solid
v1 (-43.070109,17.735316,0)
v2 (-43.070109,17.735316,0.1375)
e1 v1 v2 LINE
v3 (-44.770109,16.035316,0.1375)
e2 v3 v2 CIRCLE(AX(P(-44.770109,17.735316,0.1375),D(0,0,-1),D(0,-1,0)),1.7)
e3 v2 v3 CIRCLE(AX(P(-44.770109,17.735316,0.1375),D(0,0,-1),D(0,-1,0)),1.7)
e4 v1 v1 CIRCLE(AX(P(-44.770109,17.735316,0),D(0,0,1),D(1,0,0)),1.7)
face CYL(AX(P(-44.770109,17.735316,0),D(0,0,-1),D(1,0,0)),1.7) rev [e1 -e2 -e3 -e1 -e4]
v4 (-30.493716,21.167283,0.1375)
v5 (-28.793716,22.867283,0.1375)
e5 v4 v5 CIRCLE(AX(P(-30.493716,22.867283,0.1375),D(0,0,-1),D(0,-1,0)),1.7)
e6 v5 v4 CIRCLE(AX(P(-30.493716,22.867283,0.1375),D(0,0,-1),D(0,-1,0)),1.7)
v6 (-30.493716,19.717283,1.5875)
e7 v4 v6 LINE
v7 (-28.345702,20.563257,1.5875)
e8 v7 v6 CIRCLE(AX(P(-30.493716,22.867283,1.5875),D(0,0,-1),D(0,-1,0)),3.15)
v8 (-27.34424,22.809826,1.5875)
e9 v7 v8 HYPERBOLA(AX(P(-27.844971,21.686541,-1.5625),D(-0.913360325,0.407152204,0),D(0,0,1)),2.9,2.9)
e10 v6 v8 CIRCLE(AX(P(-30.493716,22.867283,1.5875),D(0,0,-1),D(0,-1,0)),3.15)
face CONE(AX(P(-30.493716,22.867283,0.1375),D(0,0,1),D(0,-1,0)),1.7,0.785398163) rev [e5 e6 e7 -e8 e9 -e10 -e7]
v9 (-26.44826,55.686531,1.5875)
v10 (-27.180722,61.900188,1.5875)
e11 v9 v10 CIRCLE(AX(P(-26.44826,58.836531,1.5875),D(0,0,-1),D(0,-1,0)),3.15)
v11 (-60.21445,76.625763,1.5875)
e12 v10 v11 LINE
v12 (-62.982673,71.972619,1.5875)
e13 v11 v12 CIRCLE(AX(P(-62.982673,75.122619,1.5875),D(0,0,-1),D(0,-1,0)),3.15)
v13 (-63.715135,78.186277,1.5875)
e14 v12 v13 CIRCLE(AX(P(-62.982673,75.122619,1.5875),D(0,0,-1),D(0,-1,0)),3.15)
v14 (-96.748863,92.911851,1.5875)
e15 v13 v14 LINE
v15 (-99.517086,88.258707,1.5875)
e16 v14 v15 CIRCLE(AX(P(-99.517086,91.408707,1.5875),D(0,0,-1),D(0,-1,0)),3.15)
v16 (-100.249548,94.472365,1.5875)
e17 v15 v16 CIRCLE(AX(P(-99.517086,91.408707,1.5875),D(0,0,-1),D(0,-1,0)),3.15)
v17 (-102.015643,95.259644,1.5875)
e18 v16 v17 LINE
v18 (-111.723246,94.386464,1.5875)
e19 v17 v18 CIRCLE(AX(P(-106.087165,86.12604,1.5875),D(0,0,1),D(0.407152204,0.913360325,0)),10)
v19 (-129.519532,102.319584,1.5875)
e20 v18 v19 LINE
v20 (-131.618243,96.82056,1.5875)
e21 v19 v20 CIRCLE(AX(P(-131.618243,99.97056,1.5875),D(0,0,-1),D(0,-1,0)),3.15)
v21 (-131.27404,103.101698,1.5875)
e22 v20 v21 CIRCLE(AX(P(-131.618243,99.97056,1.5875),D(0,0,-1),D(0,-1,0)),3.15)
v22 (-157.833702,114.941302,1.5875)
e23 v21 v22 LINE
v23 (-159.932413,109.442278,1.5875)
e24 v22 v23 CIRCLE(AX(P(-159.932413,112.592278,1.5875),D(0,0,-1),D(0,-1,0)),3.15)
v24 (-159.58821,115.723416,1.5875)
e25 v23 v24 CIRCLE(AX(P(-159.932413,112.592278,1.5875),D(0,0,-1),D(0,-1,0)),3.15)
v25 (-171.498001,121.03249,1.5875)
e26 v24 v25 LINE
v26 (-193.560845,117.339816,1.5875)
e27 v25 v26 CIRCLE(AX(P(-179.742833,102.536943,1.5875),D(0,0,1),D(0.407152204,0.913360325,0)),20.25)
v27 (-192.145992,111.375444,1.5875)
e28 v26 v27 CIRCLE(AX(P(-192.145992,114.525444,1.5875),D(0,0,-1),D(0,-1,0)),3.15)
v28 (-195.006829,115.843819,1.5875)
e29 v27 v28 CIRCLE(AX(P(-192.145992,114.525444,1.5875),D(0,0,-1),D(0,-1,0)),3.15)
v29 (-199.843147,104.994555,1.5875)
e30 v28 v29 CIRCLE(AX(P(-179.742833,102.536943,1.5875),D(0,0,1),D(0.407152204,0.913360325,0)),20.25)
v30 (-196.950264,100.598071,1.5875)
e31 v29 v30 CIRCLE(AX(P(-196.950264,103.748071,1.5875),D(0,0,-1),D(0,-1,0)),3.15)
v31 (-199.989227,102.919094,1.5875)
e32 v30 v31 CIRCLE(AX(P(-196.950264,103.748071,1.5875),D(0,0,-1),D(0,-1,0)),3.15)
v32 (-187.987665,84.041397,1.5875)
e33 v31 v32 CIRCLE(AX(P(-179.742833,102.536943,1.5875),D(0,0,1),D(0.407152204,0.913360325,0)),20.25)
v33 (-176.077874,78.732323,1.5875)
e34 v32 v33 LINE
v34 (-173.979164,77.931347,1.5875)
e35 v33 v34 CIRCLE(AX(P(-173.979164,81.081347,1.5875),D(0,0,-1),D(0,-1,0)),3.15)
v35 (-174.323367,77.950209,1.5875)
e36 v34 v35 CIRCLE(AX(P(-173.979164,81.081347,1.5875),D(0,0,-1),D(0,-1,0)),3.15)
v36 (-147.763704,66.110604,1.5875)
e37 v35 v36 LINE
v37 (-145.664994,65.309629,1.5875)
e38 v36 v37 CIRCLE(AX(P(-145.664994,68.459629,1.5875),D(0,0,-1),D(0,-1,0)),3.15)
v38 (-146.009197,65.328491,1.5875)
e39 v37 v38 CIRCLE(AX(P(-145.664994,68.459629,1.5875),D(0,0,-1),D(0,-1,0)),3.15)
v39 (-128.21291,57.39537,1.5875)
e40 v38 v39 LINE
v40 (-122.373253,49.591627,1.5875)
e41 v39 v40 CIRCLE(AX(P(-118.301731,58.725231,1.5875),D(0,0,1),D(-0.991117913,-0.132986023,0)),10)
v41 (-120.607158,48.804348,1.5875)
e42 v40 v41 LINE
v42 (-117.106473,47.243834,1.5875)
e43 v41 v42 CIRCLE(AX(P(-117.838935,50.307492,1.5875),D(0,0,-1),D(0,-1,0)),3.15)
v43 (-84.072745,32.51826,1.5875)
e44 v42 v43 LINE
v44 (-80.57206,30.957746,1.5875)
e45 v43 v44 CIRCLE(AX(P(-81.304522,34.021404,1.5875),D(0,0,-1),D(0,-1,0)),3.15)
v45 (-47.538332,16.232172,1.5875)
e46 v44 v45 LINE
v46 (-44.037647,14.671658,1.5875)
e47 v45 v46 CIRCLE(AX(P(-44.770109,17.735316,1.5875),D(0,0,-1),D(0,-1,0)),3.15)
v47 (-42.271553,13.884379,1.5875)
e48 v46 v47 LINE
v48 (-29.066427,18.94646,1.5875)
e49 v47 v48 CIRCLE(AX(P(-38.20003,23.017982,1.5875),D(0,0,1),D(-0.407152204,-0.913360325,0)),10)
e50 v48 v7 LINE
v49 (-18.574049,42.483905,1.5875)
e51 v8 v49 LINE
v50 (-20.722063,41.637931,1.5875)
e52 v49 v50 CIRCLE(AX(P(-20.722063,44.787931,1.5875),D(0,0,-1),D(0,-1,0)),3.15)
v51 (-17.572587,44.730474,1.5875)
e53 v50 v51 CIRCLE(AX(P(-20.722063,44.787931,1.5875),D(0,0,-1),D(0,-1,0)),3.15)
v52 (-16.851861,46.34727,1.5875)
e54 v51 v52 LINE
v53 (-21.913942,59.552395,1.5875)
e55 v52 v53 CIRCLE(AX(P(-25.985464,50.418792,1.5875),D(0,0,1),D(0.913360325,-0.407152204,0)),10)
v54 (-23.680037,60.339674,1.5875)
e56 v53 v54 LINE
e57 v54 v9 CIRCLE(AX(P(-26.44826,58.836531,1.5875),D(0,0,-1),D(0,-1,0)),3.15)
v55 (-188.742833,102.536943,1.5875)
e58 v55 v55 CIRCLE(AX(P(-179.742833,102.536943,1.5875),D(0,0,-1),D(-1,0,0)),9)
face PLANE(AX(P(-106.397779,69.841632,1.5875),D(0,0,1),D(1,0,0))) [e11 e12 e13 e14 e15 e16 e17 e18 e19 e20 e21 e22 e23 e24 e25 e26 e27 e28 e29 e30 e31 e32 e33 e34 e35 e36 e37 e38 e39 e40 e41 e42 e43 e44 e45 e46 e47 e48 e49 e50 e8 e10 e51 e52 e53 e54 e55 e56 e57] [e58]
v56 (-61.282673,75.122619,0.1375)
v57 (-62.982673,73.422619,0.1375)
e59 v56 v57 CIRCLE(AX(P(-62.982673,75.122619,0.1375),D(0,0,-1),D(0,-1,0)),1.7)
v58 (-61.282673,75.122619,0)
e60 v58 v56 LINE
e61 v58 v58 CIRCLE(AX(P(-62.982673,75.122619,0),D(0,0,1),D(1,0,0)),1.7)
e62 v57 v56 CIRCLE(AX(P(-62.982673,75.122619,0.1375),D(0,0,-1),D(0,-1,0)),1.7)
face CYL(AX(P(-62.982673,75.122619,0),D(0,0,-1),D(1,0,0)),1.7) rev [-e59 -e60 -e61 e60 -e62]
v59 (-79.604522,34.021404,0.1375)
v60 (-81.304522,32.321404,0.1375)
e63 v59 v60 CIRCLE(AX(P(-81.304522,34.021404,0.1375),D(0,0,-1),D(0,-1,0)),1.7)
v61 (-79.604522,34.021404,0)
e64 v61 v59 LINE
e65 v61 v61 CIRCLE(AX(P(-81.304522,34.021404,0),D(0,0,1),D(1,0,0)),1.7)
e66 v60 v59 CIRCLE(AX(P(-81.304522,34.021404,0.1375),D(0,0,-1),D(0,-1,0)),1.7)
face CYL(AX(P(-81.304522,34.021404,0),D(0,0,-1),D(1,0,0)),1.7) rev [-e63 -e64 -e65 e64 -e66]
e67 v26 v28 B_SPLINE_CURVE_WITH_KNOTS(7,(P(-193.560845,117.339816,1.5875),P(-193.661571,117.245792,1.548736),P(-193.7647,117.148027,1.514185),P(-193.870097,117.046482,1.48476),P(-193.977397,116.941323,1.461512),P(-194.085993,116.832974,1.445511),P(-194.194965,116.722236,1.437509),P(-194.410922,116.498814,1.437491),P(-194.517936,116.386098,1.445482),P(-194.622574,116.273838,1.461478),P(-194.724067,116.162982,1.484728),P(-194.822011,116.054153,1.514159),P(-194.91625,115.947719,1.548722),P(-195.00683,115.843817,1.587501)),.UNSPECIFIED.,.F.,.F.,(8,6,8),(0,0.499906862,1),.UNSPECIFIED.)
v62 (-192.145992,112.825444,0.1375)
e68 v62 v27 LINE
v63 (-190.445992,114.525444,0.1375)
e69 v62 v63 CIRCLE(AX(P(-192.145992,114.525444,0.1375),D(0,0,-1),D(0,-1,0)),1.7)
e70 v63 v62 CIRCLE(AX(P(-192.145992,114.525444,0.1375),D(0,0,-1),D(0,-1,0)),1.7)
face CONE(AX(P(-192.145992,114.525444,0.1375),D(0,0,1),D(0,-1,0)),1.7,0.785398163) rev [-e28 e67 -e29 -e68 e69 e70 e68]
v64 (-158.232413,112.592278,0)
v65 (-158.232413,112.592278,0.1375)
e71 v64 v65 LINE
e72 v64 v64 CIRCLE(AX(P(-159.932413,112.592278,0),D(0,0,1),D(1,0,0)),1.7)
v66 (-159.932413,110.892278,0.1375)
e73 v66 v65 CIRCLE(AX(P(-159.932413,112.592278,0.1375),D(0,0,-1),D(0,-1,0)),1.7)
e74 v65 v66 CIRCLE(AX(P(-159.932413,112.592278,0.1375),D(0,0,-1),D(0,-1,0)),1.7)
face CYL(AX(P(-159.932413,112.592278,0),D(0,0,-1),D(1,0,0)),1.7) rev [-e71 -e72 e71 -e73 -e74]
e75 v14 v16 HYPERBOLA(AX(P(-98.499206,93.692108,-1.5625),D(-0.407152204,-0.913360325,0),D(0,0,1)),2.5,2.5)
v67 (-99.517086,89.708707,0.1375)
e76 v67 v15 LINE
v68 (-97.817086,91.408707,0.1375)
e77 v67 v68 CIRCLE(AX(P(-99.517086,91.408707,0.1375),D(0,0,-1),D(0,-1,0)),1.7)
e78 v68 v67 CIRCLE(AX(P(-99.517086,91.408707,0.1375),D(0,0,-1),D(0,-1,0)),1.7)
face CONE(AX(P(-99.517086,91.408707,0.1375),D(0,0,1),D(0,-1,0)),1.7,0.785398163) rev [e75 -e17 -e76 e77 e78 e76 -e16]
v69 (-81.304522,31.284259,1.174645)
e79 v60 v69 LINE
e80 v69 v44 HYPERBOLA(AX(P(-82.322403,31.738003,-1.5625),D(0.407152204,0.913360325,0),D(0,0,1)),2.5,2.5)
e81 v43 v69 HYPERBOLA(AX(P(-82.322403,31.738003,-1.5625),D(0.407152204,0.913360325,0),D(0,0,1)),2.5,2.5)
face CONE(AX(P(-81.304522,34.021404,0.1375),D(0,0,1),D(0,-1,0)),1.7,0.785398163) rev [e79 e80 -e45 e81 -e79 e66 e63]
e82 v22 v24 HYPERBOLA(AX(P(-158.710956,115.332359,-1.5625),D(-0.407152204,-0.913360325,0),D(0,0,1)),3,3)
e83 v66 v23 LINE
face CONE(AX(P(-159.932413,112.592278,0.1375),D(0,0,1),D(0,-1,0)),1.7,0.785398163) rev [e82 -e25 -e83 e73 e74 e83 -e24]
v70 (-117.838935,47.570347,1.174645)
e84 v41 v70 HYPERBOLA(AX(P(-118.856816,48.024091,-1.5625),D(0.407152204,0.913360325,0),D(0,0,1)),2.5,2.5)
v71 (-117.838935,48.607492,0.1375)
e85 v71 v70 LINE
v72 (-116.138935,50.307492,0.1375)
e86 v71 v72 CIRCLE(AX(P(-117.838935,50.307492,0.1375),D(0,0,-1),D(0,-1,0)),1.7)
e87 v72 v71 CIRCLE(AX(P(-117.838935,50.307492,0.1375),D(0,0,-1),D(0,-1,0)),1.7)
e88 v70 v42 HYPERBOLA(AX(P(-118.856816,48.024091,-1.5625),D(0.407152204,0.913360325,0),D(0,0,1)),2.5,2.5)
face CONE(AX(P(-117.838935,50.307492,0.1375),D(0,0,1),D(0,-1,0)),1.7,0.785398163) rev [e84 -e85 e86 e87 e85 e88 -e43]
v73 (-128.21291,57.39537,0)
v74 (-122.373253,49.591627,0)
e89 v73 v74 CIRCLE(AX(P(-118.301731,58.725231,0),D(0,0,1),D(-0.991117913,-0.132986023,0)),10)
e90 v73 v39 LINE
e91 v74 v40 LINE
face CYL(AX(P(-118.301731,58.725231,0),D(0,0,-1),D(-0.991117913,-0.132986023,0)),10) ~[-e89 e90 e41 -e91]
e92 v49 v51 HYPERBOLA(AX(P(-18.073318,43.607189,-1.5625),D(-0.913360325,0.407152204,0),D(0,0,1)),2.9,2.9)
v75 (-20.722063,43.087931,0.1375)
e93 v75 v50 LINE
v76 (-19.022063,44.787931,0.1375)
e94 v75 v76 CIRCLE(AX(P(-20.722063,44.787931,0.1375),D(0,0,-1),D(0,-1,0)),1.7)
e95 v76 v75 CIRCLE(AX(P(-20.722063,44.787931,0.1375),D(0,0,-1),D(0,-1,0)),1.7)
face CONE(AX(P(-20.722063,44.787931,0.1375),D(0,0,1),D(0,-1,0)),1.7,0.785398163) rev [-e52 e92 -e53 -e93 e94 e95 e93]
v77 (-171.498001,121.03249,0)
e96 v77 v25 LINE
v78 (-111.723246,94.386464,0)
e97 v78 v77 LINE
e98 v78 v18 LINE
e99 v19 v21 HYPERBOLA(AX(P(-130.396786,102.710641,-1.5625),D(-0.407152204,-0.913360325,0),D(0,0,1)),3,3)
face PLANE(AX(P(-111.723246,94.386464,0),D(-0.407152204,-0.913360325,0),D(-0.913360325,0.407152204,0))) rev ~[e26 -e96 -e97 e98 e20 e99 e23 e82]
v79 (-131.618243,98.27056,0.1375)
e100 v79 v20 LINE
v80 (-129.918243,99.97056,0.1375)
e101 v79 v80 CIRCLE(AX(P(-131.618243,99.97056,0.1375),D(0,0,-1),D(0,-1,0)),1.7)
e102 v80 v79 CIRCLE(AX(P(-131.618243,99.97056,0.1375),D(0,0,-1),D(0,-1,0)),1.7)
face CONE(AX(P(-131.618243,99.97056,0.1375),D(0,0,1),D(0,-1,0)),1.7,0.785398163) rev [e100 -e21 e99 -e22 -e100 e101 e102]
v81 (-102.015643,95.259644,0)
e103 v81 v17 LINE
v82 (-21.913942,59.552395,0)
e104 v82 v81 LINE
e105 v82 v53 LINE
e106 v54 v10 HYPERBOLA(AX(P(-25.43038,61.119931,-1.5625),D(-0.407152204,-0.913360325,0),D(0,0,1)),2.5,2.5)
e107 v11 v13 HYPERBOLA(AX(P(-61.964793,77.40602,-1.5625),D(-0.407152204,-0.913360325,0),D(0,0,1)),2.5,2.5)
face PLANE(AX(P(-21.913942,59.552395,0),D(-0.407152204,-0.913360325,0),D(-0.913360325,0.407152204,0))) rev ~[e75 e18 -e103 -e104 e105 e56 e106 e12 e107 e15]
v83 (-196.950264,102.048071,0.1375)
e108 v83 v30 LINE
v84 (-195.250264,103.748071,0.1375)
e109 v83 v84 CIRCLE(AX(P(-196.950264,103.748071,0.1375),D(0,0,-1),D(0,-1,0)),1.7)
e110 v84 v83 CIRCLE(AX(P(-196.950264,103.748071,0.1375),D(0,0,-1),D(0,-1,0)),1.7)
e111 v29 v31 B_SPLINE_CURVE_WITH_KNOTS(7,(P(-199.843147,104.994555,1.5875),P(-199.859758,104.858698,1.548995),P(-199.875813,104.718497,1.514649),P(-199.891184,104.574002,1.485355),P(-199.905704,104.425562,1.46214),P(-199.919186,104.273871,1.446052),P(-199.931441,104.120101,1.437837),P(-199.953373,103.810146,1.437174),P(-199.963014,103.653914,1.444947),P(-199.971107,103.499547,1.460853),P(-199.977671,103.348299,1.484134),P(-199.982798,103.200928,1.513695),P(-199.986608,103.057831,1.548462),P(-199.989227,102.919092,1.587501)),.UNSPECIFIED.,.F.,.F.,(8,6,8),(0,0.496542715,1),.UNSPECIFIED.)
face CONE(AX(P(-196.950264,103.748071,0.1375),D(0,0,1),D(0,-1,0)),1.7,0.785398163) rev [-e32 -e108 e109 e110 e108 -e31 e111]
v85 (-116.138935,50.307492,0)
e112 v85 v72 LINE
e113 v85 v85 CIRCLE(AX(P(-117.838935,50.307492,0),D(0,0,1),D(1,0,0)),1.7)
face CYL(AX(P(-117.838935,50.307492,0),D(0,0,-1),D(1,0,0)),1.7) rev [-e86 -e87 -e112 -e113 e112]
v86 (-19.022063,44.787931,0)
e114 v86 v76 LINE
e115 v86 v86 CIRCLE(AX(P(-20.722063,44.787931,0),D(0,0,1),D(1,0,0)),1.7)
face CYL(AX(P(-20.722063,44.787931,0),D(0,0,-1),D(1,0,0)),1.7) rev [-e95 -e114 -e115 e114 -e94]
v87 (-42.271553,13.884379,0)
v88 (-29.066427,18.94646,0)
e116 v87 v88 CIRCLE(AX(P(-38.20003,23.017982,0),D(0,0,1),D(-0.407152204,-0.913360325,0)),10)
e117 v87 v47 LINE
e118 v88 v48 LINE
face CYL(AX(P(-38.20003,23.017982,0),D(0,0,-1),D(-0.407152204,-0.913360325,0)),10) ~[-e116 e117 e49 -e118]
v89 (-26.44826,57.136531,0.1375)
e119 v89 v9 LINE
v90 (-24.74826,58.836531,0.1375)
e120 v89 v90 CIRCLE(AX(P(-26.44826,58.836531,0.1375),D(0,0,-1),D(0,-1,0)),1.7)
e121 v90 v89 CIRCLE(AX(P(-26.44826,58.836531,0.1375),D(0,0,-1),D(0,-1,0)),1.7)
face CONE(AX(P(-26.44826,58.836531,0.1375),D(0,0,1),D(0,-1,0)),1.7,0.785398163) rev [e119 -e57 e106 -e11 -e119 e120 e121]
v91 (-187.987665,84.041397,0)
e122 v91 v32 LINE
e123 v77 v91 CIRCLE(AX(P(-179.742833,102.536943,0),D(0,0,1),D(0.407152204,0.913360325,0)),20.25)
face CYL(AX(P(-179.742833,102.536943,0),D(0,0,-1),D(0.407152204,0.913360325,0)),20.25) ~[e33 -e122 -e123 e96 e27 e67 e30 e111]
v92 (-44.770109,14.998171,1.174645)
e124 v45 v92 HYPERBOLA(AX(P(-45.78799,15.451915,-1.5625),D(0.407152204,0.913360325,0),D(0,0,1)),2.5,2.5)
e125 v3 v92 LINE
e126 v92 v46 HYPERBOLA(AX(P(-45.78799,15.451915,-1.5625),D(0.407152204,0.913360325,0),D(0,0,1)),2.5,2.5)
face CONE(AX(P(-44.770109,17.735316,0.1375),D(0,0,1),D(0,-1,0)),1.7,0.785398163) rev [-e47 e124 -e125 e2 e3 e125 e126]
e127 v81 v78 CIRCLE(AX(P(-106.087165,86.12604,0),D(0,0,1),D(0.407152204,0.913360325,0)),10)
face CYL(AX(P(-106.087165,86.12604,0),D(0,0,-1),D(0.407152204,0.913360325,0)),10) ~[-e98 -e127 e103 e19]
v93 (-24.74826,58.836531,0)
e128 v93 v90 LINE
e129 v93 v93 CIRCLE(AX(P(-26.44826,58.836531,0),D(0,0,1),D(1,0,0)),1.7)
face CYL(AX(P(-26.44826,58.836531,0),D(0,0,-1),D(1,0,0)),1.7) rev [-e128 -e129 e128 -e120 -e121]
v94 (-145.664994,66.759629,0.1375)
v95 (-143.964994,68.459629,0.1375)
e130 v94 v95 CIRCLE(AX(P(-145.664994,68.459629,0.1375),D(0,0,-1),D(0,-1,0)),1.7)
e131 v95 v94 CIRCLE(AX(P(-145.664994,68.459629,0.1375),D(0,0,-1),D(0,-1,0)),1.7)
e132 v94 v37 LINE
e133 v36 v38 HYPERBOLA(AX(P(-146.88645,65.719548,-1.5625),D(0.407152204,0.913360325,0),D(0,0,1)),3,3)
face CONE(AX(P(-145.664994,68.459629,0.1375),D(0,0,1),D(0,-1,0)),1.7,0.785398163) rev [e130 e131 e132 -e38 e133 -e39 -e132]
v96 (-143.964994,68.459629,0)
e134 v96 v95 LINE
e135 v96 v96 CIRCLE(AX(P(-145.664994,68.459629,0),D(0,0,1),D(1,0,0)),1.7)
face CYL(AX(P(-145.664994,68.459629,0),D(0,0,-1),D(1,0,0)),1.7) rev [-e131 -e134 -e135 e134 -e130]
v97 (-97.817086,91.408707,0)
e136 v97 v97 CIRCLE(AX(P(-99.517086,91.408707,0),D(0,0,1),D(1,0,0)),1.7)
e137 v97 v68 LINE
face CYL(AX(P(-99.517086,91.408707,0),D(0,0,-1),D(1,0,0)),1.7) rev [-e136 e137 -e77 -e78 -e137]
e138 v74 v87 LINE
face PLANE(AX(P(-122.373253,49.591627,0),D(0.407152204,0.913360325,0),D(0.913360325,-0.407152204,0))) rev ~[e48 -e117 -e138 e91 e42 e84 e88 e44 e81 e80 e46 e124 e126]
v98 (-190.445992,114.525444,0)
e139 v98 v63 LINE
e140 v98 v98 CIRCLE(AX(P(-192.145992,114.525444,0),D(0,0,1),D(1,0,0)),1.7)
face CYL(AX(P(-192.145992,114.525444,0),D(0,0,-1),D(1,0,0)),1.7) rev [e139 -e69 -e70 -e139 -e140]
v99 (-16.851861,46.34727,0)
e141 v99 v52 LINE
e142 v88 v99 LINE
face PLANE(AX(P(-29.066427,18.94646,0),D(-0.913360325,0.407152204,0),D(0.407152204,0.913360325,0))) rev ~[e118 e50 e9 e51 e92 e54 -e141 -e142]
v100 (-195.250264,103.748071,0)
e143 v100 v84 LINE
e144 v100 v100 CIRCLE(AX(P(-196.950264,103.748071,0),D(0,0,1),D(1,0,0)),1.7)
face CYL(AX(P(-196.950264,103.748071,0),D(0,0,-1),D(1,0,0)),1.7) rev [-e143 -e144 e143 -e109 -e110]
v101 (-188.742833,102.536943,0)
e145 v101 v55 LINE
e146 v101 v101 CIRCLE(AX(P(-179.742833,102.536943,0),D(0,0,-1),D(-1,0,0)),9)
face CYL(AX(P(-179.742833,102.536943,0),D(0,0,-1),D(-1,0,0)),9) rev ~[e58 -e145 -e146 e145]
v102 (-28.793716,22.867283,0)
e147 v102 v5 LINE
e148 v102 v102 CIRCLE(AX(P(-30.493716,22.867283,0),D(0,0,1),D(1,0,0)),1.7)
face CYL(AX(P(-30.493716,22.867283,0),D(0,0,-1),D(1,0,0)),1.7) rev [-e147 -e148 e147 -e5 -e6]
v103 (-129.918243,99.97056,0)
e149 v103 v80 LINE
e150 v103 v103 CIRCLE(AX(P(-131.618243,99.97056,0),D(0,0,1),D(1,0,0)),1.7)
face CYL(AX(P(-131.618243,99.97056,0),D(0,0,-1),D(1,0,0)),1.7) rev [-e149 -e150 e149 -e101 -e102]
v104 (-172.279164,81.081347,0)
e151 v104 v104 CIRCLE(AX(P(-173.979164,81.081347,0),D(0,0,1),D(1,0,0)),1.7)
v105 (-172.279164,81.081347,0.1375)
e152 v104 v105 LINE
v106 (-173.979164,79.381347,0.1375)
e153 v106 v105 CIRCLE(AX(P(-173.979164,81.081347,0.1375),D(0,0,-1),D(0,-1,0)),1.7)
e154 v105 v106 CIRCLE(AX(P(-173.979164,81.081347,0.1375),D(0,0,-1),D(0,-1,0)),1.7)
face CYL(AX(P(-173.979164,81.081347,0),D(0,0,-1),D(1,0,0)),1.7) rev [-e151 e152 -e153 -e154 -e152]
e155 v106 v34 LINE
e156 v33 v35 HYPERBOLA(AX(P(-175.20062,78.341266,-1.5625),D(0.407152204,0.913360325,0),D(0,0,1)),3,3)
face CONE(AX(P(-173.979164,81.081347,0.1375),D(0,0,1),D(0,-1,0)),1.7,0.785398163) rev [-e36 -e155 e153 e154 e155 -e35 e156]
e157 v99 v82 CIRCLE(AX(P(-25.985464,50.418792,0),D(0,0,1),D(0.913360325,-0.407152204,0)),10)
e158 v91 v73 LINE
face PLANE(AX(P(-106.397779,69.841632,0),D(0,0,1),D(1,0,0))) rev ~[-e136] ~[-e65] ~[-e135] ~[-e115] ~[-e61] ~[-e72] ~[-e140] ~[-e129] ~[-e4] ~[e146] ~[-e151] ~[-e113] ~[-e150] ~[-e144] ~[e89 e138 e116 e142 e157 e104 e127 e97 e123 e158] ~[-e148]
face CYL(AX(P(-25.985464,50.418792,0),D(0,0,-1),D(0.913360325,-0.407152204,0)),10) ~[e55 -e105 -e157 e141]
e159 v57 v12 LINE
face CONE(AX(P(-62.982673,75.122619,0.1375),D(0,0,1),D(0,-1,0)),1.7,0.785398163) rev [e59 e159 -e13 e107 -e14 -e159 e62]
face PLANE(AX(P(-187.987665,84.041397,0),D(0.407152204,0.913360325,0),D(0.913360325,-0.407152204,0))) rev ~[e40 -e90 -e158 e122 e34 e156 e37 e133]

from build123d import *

# Parameters (mm, degrees)
SKETCH1_R                                      = 1.7
BOSS_EXTRUDE1_DEPTH                            = 1.5875
SKETCH2_R                                      = 9
CUT_EXTRUDE1_DEPTH                             = 2.5875
CSK_FOR_M3_FLAT_HEAD_MACHINE_SCREW1_AT_2_COUNT = 2
CSK_FOR_M3_FLAT_HEAD_MACHINE_SCREW1_AT_2_PITCH = 11.799694945
CSK_FOR_M3_FLAT_HEAD_MACHINE_SCREW1_AT_3_COUNT = 2
CSK_FOR_M3_FLAT_HEAD_MACHINE_SCREW1_AT_3_PITCH = 38.059706694
CSK_FOR_M3_FLAT_HEAD_MACHINE_SCREW1_AT_4_COUNT = 2
CSK_FOR_M3_FLAT_HEAD_MACHINE_SCREW1_AT_4_PITCH = 65.441137915
CSK_FOR_M3_FLAT_HEAD_MACHINE_SCREW1_AT_5_COUNT = 2
CSK_FOR_M3_FLAT_HEAD_MACHINE_SCREW1_AT_5_PITCH = 98.21142491
CSK_FOR_M3_FLAT_HEAD_MACHINE_SCREW1_AT_6_COUNT = 2
CSK_FOR_M3_FLAT_HEAD_MACHINE_SCREW1_AT_6_PITCH = 136.991721698
CSK_FOR_M3_FLAT_HEAD_MACHINE_SCREW1_AT_7_COUNT = 2
CSK_FOR_M3_FLAT_HEAD_MACHINE_SCREW1_AT_7_PITCH = 176.317837002
CSK_FOR_M3_FLAT_HEAD_MACHINE_SCREW1_AT_8_COUNT = 2
CSK_FOR_M3_FLAT_HEAD_MACHINE_SCREW1_AT_8_PITCH = 185.829698762
CSK_FOR_M3_FLAT_HEAD_MACHINE_SCREW1_AT_9_COUNT = 2
CSK_FOR_M3_FLAT_HEAD_MACHINE_SCREW1_AT_9_PITCH = 185.066161853
CSK_FOR_M3_FLAT_HEAD_MACHINE_SCREW1_AT_1_COUNT = 2
CSK_FOR_M3_FLAT_HEAD_MACHINE_SCREW1_AT_1_PITCH = 174.805587361
CSK_FOR_M3_FLAT_HEAD_MACHINE_SCREW1_2_COUNT    = 2
CSK_FOR_M3_FLAT_HEAD_MACHINE_SCREW1_2_PITCH    = 135.039792437
CSK_FOR_M3_FLAT_HEAD_MACHINE_SCREW1_3_COUNT    = 2
CSK_FOR_M3_FLAT_HEAD_MACHINE_SCREW1_3_PITCH    = 95.46987855
CSK_FOR_M3_FLAT_HEAD_MACHINE_SCREW1_4_COUNT    = 2
CSK_FOR_M3_FLAT_HEAD_MACHINE_SCREW1_4_PITCH    = 62.253136917
CSK_FOR_M3_FLAT_HEAD_MACHINE_SCREW1_5_COUNT    = 2
CSK_FOR_M3_FLAT_HEAD_MACHINE_SCREW1_5_PITCH    = 32.271532316


with BuildPart() as part:
    # Sketch1 → Boss-Extrude1 (new body)
    with BuildSketch(Plane.XY):
        with BuildLine():
            Line((-21.913942314, 59.552395428), (-102.015642796, 95.25964371))
            ThreePointArc((-102.015642796, 95.25964371), (-106.983028684, 96.085831021), (-111.723245825, 94.386463641))
            Line((-111.723245825, 94.386463641), (-171.498000771, 121.032489918))
            ThreePointArc((-171.498000771, 121.032489918), (-198.238379477, 110.781775471), (-187.98766503, 84.041396765))
            Line((-187.98766503, 84.041396765), (-128.212910083, 57.395370488))
            ThreePointArc((-128.212910083, 57.395370488), (-126.308202352, 52.73386896), (-122.373252992, 49.591627472))
            Line((-122.373252992, 49.591627472), (-42.27155251, 13.884379189))
            ThreePointArc((-42.27155251, 13.884379189), (-34.620598521, 13.6805488), (-29.066427223, 18.946460398))
            Line((-29.066427223, 18.946460398), (-16.851861106, 46.347270141))
            ThreePointArc((-16.851861106, 46.347270141), (-16.648030717, 53.99822413), (-21.913942314, 59.552395428))
        make_face()
        with Locations((-99.517086056, 91.408706914)):
            Circle(SKETCH1_R, mode=Mode.SUBTRACT)
        with Locations((-62.982673065, 75.122618757)):
            Circle(SKETCH1_R, mode=Mode.SUBTRACT)
        with Locations((-26.448260075, 58.836530601)):
            Circle(SKETCH1_R, mode=Mode.SUBTRACT)
        with Locations((-20.722062659, 44.787930558)):
            Circle(SKETCH1_R, mode=Mode.SUBTRACT)
        with Locations((-30.493715553, 22.867282764)):
            Circle(SKETCH1_R, mode=Mode.SUBTRACT)
        with Locations((-44.77010925, 17.735315986)):
            Circle(SKETCH1_R, mode=Mode.SUBTRACT)
        with Locations((-81.304522241, 34.021404143)):
            Circle(SKETCH1_R, mode=Mode.SUBTRACT)
        with Locations((-117.838935231, 50.307492299)):
            Circle(SKETCH1_R, mode=Mode.SUBTRACT)
        with Locations((-131.618242769, 99.970559768)):
            Circle(SKETCH1_R, mode=Mode.SUBTRACT)
        with Locations((-145.664993804, 68.459628564)):
            Circle(SKETCH1_R, mode=Mode.SUBTRACT)
        with Locations((-173.979163871, 81.081346885)):
            Circle(SKETCH1_R, mode=Mode.SUBTRACT)
        with Locations((-159.932412836, 112.592278089)):
            Circle(SKETCH1_R, mode=Mode.SUBTRACT)
        with Locations((-192.145991763, 114.525444092)):
            Circle(SKETCH1_R, mode=Mode.SUBTRACT)
        with Locations((-196.950263565, 103.748070885)):
            Circle(SKETCH1_R, mode=Mode.SUBTRACT)
    extrude(amount=BOSS_EXTRUDE1_DEPTH)

    # Sketch2 → Cut-Extrude1 (cut, through all)
    with BuildSketch(Plane(origin=(0, 0, 0), x_dir=(-1, 0, 0), z_dir=(0, 0, -1))):
        with Locations((179.7428329, 102.536943342)):
            Circle(SKETCH2_R)
    extrude(amount=-CUT_EXTRUDE1_DEPTH, mode=Mode.SUBTRACT)

    # Sketch3 → CSK for M3 Flat Head Machine Screw1 (revolve, cut)
    with BuildSketch(Plane(origin=(-192.145991763, 114.525444092, 1.5875), x_dir=(0, -1, 0), z_dir=(1, 0, 0))):
        Polygon((0, 0), (0, 1.5875), (1.7, 1.5875), (1.7, 1.45), (3.15, 0), align=None)
    csk_for_m3_flat_head_machine_screw1 = revolve(axis=Axis((-192.145991763, 114.525444092, 7.9375), (0, 0, -1)), mode=Mode.SUBTRACT)

    # CSK for M3 Flat Head Machine Screw1 at 2: CSK for M3 Flat Head Machine Screw1 ×2
    with Locations(*[Vector(-0.407152204, -0.913360325, 0) * (i * CSK_FOR_M3_FLAT_HEAD_MACHINE_SCREW1_AT_2_PITCH) for i in range(1, CSK_FOR_M3_FLAT_HEAD_MACHINE_SCREW1_AT_2_COUNT)]):
        add(csk_for_m3_flat_head_machine_screw1, mode=Mode.SUBTRACT)

    # CSK for M3 Flat Head Machine Screw1 at 3: CSK for M3 Flat Head Machine Screw1 ×2
    with Locations(*[Vector(0.477324432, -0.87872714, 0) * (i * CSK_FOR_M3_FLAT_HEAD_MACHINE_SCREW1_AT_3_PITCH) for i in range(1, CSK_FOR_M3_FLAT_HEAD_MACHINE_SCREW1_AT_3_COUNT)]):
        add(csk_for_m3_flat_head_machine_screw1, mode=Mode.SUBTRACT)

    # CSK for M3 Flat Head Machine Screw1 at 4: CSK for M3 Flat Head Machine Screw1 ×2
    with Locations(*[Vector(0.710271848, -0.703927483, 0) * (i * CSK_FOR_M3_FLAT_HEAD_MACHINE_SCREW1_AT_4_PITCH) for i in range(1, CSK_FOR_M3_FLAT_HEAD_MACHINE_SCREW1_AT_4_COUNT)]):
        add(csk_for_m3_flat_head_machine_screw1, mode=Mode.SUBTRACT)

    # CSK for M3 Flat Head Machine Screw1 at 5: CSK for M3 Flat Head Machine Screw1 ×2
    with Locations(*[Vector(0.756602978, -0.653874555, 0) * (i * CSK_FOR_M3_FLAT_HEAD_MACHINE_SCREW1_AT_5_PITCH) for i in range(1, CSK_FOR_M3_FLAT_HEAD_MACHINE_SCREW1_AT_5_COUNT)]):
        add(csk_for_m3_flat_head_machine_screw1, mode=Mode.SUBTRACT)

    # CSK for M3 Flat Head Machine Screw1 at 6: CSK for M3 Flat Head Machine Screw1 ×2
    with Locations(*[Vector(0.809110712, -0.587656239, 0) * (i * CSK_FOR_M3_FLAT_HEAD_MACHINE_SCREW1_AT_6_PITCH) for i in range(1, CSK_FOR_M3_FLAT_HEAD_MACHINE_SCREW1_AT_6_COUNT)]):
        add(csk_for_m3_flat_head_machine_screw1, mode=Mode.SUBTRACT)

    # CSK for M3 Flat Head Machine Screw1 at 7: CSK for M3 Flat Head Machine Screw1 ×2
    with Locations(*[Vector(0.835853508, -0.548952561, 0) * (i * CSK_FOR_M3_FLAT_HEAD_MACHINE_SCREW1_AT_7_PITCH) for i in range(1, CSK_FOR_M3_FLAT_HEAD_MACHINE_SCREW1_AT_7_COUNT)]):
        add(csk_for_m3_flat_head_machine_screw1, mode=Mode.SUBTRACT)

    # CSK for M3 Flat Head Machine Screw1 at 8: CSK for M3 Flat Head Machine Screw1 ×2
    with Locations(*[Vector(0.869894733, -0.493237421, 0) * (i * CSK_FOR_M3_FLAT_HEAD_MACHINE_SCREW1_AT_8_PITCH) for i in range(1, CSK_FOR_M3_FLAT_HEAD_MACHINE_SCREW1_AT_8_COUNT)]):
        add(csk_for_m3_flat_head_machine_screw1, mode=Mode.SUBTRACT)

    # CSK for M3 Flat Head Machine Screw1 at 9: CSK for M3 Flat Head Machine Screw1 ×2
    with Locations(*[Vector(0.926284564, -0.376824768, 0) * (i * CSK_FOR_M3_FLAT_HEAD_MACHINE_SCREW1_AT_9_PITCH) for i in range(1, CSK_FOR_M3_FLAT_HEAD_MACHINE_SCREW1_AT_9_COUNT)]):
        add(csk_for_m3_flat_head_machine_screw1, mode=Mode.SUBTRACT)

    # CSK for M3 Flat Head Machine Screw1 at 1: CSK for M3 Flat Head Machine Screw1 ×2
    with Locations(*[Vector(0.947897228, -0.318576279, 0) * (i * CSK_FOR_M3_FLAT_HEAD_MACHINE_SCREW1_AT_1_PITCH) for i in range(1, CSK_FOR_M3_FLAT_HEAD_MACHINE_SCREW1_AT_1_COUNT)]):
        add(csk_for_m3_flat_head_machine_screw1, mode=Mode.SUBTRACT)

    # CSK for M3 Flat Head Machine Screw1  2: CSK for M3 Flat Head Machine Screw1 ×2
    with Locations(*[Vector(0.956483392, -0.291786774, 0) * (i * CSK_FOR_M3_FLAT_HEAD_MACHINE_SCREW1_2_PITCH) for i in range(1, CSK_FOR_M3_FLAT_HEAD_MACHINE_SCREW1_2_COUNT)]):
        add(csk_for_m3_flat_head_machine_screw1, mode=Mode.SUBTRACT)

    # CSK for M3 Flat Head Machine Screw1  3: CSK for M3 Flat Head Machine Screw1 ×2
    with Locations(*[Vector(0.970242207, -0.242136447, 0) * (i * CSK_FOR_M3_FLAT_HEAD_MACHINE_SCREW1_3_PITCH) for i in range(1, CSK_FOR_M3_FLAT_HEAD_MACHINE_SCREW1_3_COUNT)]):
        add(csk_for_m3_flat_head_machine_screw1, mode=Mode.SUBTRACT)

    # CSK for M3 Flat Head Machine Screw1  4: CSK for M3 Flat Head Machine Screw1 ×2
    with Locations(*[Vector(0.972284322, -0.233801621, 0) * (i * CSK_FOR_M3_FLAT_HEAD_MACHINE_SCREW1_4_PITCH) for i in range(1, CSK_FOR_M3_FLAT_HEAD_MACHINE_SCREW1_4_COUNT)]):
        add(csk_for_m3_flat_head_machine_screw1, mode=Mode.SUBTRACT)

    # CSK for M3 Flat Head Machine Screw1  5: CSK for M3 Flat Head Machine Screw1 ×2
    with Locations(*[Vector(0.998204195, -0.059903136, 0) * (i * CSK_FOR_M3_FLAT_HEAD_MACHINE_SCREW1_5_PITCH) for i in range(1, CSK_FOR_M3_FLAT_HEAD_MACHINE_SCREW1_5_COUNT)]):
        add(csk_for_m3_flat_head_machine_screw1, mode=Mode.SUBTRACT)


solid = part.part
